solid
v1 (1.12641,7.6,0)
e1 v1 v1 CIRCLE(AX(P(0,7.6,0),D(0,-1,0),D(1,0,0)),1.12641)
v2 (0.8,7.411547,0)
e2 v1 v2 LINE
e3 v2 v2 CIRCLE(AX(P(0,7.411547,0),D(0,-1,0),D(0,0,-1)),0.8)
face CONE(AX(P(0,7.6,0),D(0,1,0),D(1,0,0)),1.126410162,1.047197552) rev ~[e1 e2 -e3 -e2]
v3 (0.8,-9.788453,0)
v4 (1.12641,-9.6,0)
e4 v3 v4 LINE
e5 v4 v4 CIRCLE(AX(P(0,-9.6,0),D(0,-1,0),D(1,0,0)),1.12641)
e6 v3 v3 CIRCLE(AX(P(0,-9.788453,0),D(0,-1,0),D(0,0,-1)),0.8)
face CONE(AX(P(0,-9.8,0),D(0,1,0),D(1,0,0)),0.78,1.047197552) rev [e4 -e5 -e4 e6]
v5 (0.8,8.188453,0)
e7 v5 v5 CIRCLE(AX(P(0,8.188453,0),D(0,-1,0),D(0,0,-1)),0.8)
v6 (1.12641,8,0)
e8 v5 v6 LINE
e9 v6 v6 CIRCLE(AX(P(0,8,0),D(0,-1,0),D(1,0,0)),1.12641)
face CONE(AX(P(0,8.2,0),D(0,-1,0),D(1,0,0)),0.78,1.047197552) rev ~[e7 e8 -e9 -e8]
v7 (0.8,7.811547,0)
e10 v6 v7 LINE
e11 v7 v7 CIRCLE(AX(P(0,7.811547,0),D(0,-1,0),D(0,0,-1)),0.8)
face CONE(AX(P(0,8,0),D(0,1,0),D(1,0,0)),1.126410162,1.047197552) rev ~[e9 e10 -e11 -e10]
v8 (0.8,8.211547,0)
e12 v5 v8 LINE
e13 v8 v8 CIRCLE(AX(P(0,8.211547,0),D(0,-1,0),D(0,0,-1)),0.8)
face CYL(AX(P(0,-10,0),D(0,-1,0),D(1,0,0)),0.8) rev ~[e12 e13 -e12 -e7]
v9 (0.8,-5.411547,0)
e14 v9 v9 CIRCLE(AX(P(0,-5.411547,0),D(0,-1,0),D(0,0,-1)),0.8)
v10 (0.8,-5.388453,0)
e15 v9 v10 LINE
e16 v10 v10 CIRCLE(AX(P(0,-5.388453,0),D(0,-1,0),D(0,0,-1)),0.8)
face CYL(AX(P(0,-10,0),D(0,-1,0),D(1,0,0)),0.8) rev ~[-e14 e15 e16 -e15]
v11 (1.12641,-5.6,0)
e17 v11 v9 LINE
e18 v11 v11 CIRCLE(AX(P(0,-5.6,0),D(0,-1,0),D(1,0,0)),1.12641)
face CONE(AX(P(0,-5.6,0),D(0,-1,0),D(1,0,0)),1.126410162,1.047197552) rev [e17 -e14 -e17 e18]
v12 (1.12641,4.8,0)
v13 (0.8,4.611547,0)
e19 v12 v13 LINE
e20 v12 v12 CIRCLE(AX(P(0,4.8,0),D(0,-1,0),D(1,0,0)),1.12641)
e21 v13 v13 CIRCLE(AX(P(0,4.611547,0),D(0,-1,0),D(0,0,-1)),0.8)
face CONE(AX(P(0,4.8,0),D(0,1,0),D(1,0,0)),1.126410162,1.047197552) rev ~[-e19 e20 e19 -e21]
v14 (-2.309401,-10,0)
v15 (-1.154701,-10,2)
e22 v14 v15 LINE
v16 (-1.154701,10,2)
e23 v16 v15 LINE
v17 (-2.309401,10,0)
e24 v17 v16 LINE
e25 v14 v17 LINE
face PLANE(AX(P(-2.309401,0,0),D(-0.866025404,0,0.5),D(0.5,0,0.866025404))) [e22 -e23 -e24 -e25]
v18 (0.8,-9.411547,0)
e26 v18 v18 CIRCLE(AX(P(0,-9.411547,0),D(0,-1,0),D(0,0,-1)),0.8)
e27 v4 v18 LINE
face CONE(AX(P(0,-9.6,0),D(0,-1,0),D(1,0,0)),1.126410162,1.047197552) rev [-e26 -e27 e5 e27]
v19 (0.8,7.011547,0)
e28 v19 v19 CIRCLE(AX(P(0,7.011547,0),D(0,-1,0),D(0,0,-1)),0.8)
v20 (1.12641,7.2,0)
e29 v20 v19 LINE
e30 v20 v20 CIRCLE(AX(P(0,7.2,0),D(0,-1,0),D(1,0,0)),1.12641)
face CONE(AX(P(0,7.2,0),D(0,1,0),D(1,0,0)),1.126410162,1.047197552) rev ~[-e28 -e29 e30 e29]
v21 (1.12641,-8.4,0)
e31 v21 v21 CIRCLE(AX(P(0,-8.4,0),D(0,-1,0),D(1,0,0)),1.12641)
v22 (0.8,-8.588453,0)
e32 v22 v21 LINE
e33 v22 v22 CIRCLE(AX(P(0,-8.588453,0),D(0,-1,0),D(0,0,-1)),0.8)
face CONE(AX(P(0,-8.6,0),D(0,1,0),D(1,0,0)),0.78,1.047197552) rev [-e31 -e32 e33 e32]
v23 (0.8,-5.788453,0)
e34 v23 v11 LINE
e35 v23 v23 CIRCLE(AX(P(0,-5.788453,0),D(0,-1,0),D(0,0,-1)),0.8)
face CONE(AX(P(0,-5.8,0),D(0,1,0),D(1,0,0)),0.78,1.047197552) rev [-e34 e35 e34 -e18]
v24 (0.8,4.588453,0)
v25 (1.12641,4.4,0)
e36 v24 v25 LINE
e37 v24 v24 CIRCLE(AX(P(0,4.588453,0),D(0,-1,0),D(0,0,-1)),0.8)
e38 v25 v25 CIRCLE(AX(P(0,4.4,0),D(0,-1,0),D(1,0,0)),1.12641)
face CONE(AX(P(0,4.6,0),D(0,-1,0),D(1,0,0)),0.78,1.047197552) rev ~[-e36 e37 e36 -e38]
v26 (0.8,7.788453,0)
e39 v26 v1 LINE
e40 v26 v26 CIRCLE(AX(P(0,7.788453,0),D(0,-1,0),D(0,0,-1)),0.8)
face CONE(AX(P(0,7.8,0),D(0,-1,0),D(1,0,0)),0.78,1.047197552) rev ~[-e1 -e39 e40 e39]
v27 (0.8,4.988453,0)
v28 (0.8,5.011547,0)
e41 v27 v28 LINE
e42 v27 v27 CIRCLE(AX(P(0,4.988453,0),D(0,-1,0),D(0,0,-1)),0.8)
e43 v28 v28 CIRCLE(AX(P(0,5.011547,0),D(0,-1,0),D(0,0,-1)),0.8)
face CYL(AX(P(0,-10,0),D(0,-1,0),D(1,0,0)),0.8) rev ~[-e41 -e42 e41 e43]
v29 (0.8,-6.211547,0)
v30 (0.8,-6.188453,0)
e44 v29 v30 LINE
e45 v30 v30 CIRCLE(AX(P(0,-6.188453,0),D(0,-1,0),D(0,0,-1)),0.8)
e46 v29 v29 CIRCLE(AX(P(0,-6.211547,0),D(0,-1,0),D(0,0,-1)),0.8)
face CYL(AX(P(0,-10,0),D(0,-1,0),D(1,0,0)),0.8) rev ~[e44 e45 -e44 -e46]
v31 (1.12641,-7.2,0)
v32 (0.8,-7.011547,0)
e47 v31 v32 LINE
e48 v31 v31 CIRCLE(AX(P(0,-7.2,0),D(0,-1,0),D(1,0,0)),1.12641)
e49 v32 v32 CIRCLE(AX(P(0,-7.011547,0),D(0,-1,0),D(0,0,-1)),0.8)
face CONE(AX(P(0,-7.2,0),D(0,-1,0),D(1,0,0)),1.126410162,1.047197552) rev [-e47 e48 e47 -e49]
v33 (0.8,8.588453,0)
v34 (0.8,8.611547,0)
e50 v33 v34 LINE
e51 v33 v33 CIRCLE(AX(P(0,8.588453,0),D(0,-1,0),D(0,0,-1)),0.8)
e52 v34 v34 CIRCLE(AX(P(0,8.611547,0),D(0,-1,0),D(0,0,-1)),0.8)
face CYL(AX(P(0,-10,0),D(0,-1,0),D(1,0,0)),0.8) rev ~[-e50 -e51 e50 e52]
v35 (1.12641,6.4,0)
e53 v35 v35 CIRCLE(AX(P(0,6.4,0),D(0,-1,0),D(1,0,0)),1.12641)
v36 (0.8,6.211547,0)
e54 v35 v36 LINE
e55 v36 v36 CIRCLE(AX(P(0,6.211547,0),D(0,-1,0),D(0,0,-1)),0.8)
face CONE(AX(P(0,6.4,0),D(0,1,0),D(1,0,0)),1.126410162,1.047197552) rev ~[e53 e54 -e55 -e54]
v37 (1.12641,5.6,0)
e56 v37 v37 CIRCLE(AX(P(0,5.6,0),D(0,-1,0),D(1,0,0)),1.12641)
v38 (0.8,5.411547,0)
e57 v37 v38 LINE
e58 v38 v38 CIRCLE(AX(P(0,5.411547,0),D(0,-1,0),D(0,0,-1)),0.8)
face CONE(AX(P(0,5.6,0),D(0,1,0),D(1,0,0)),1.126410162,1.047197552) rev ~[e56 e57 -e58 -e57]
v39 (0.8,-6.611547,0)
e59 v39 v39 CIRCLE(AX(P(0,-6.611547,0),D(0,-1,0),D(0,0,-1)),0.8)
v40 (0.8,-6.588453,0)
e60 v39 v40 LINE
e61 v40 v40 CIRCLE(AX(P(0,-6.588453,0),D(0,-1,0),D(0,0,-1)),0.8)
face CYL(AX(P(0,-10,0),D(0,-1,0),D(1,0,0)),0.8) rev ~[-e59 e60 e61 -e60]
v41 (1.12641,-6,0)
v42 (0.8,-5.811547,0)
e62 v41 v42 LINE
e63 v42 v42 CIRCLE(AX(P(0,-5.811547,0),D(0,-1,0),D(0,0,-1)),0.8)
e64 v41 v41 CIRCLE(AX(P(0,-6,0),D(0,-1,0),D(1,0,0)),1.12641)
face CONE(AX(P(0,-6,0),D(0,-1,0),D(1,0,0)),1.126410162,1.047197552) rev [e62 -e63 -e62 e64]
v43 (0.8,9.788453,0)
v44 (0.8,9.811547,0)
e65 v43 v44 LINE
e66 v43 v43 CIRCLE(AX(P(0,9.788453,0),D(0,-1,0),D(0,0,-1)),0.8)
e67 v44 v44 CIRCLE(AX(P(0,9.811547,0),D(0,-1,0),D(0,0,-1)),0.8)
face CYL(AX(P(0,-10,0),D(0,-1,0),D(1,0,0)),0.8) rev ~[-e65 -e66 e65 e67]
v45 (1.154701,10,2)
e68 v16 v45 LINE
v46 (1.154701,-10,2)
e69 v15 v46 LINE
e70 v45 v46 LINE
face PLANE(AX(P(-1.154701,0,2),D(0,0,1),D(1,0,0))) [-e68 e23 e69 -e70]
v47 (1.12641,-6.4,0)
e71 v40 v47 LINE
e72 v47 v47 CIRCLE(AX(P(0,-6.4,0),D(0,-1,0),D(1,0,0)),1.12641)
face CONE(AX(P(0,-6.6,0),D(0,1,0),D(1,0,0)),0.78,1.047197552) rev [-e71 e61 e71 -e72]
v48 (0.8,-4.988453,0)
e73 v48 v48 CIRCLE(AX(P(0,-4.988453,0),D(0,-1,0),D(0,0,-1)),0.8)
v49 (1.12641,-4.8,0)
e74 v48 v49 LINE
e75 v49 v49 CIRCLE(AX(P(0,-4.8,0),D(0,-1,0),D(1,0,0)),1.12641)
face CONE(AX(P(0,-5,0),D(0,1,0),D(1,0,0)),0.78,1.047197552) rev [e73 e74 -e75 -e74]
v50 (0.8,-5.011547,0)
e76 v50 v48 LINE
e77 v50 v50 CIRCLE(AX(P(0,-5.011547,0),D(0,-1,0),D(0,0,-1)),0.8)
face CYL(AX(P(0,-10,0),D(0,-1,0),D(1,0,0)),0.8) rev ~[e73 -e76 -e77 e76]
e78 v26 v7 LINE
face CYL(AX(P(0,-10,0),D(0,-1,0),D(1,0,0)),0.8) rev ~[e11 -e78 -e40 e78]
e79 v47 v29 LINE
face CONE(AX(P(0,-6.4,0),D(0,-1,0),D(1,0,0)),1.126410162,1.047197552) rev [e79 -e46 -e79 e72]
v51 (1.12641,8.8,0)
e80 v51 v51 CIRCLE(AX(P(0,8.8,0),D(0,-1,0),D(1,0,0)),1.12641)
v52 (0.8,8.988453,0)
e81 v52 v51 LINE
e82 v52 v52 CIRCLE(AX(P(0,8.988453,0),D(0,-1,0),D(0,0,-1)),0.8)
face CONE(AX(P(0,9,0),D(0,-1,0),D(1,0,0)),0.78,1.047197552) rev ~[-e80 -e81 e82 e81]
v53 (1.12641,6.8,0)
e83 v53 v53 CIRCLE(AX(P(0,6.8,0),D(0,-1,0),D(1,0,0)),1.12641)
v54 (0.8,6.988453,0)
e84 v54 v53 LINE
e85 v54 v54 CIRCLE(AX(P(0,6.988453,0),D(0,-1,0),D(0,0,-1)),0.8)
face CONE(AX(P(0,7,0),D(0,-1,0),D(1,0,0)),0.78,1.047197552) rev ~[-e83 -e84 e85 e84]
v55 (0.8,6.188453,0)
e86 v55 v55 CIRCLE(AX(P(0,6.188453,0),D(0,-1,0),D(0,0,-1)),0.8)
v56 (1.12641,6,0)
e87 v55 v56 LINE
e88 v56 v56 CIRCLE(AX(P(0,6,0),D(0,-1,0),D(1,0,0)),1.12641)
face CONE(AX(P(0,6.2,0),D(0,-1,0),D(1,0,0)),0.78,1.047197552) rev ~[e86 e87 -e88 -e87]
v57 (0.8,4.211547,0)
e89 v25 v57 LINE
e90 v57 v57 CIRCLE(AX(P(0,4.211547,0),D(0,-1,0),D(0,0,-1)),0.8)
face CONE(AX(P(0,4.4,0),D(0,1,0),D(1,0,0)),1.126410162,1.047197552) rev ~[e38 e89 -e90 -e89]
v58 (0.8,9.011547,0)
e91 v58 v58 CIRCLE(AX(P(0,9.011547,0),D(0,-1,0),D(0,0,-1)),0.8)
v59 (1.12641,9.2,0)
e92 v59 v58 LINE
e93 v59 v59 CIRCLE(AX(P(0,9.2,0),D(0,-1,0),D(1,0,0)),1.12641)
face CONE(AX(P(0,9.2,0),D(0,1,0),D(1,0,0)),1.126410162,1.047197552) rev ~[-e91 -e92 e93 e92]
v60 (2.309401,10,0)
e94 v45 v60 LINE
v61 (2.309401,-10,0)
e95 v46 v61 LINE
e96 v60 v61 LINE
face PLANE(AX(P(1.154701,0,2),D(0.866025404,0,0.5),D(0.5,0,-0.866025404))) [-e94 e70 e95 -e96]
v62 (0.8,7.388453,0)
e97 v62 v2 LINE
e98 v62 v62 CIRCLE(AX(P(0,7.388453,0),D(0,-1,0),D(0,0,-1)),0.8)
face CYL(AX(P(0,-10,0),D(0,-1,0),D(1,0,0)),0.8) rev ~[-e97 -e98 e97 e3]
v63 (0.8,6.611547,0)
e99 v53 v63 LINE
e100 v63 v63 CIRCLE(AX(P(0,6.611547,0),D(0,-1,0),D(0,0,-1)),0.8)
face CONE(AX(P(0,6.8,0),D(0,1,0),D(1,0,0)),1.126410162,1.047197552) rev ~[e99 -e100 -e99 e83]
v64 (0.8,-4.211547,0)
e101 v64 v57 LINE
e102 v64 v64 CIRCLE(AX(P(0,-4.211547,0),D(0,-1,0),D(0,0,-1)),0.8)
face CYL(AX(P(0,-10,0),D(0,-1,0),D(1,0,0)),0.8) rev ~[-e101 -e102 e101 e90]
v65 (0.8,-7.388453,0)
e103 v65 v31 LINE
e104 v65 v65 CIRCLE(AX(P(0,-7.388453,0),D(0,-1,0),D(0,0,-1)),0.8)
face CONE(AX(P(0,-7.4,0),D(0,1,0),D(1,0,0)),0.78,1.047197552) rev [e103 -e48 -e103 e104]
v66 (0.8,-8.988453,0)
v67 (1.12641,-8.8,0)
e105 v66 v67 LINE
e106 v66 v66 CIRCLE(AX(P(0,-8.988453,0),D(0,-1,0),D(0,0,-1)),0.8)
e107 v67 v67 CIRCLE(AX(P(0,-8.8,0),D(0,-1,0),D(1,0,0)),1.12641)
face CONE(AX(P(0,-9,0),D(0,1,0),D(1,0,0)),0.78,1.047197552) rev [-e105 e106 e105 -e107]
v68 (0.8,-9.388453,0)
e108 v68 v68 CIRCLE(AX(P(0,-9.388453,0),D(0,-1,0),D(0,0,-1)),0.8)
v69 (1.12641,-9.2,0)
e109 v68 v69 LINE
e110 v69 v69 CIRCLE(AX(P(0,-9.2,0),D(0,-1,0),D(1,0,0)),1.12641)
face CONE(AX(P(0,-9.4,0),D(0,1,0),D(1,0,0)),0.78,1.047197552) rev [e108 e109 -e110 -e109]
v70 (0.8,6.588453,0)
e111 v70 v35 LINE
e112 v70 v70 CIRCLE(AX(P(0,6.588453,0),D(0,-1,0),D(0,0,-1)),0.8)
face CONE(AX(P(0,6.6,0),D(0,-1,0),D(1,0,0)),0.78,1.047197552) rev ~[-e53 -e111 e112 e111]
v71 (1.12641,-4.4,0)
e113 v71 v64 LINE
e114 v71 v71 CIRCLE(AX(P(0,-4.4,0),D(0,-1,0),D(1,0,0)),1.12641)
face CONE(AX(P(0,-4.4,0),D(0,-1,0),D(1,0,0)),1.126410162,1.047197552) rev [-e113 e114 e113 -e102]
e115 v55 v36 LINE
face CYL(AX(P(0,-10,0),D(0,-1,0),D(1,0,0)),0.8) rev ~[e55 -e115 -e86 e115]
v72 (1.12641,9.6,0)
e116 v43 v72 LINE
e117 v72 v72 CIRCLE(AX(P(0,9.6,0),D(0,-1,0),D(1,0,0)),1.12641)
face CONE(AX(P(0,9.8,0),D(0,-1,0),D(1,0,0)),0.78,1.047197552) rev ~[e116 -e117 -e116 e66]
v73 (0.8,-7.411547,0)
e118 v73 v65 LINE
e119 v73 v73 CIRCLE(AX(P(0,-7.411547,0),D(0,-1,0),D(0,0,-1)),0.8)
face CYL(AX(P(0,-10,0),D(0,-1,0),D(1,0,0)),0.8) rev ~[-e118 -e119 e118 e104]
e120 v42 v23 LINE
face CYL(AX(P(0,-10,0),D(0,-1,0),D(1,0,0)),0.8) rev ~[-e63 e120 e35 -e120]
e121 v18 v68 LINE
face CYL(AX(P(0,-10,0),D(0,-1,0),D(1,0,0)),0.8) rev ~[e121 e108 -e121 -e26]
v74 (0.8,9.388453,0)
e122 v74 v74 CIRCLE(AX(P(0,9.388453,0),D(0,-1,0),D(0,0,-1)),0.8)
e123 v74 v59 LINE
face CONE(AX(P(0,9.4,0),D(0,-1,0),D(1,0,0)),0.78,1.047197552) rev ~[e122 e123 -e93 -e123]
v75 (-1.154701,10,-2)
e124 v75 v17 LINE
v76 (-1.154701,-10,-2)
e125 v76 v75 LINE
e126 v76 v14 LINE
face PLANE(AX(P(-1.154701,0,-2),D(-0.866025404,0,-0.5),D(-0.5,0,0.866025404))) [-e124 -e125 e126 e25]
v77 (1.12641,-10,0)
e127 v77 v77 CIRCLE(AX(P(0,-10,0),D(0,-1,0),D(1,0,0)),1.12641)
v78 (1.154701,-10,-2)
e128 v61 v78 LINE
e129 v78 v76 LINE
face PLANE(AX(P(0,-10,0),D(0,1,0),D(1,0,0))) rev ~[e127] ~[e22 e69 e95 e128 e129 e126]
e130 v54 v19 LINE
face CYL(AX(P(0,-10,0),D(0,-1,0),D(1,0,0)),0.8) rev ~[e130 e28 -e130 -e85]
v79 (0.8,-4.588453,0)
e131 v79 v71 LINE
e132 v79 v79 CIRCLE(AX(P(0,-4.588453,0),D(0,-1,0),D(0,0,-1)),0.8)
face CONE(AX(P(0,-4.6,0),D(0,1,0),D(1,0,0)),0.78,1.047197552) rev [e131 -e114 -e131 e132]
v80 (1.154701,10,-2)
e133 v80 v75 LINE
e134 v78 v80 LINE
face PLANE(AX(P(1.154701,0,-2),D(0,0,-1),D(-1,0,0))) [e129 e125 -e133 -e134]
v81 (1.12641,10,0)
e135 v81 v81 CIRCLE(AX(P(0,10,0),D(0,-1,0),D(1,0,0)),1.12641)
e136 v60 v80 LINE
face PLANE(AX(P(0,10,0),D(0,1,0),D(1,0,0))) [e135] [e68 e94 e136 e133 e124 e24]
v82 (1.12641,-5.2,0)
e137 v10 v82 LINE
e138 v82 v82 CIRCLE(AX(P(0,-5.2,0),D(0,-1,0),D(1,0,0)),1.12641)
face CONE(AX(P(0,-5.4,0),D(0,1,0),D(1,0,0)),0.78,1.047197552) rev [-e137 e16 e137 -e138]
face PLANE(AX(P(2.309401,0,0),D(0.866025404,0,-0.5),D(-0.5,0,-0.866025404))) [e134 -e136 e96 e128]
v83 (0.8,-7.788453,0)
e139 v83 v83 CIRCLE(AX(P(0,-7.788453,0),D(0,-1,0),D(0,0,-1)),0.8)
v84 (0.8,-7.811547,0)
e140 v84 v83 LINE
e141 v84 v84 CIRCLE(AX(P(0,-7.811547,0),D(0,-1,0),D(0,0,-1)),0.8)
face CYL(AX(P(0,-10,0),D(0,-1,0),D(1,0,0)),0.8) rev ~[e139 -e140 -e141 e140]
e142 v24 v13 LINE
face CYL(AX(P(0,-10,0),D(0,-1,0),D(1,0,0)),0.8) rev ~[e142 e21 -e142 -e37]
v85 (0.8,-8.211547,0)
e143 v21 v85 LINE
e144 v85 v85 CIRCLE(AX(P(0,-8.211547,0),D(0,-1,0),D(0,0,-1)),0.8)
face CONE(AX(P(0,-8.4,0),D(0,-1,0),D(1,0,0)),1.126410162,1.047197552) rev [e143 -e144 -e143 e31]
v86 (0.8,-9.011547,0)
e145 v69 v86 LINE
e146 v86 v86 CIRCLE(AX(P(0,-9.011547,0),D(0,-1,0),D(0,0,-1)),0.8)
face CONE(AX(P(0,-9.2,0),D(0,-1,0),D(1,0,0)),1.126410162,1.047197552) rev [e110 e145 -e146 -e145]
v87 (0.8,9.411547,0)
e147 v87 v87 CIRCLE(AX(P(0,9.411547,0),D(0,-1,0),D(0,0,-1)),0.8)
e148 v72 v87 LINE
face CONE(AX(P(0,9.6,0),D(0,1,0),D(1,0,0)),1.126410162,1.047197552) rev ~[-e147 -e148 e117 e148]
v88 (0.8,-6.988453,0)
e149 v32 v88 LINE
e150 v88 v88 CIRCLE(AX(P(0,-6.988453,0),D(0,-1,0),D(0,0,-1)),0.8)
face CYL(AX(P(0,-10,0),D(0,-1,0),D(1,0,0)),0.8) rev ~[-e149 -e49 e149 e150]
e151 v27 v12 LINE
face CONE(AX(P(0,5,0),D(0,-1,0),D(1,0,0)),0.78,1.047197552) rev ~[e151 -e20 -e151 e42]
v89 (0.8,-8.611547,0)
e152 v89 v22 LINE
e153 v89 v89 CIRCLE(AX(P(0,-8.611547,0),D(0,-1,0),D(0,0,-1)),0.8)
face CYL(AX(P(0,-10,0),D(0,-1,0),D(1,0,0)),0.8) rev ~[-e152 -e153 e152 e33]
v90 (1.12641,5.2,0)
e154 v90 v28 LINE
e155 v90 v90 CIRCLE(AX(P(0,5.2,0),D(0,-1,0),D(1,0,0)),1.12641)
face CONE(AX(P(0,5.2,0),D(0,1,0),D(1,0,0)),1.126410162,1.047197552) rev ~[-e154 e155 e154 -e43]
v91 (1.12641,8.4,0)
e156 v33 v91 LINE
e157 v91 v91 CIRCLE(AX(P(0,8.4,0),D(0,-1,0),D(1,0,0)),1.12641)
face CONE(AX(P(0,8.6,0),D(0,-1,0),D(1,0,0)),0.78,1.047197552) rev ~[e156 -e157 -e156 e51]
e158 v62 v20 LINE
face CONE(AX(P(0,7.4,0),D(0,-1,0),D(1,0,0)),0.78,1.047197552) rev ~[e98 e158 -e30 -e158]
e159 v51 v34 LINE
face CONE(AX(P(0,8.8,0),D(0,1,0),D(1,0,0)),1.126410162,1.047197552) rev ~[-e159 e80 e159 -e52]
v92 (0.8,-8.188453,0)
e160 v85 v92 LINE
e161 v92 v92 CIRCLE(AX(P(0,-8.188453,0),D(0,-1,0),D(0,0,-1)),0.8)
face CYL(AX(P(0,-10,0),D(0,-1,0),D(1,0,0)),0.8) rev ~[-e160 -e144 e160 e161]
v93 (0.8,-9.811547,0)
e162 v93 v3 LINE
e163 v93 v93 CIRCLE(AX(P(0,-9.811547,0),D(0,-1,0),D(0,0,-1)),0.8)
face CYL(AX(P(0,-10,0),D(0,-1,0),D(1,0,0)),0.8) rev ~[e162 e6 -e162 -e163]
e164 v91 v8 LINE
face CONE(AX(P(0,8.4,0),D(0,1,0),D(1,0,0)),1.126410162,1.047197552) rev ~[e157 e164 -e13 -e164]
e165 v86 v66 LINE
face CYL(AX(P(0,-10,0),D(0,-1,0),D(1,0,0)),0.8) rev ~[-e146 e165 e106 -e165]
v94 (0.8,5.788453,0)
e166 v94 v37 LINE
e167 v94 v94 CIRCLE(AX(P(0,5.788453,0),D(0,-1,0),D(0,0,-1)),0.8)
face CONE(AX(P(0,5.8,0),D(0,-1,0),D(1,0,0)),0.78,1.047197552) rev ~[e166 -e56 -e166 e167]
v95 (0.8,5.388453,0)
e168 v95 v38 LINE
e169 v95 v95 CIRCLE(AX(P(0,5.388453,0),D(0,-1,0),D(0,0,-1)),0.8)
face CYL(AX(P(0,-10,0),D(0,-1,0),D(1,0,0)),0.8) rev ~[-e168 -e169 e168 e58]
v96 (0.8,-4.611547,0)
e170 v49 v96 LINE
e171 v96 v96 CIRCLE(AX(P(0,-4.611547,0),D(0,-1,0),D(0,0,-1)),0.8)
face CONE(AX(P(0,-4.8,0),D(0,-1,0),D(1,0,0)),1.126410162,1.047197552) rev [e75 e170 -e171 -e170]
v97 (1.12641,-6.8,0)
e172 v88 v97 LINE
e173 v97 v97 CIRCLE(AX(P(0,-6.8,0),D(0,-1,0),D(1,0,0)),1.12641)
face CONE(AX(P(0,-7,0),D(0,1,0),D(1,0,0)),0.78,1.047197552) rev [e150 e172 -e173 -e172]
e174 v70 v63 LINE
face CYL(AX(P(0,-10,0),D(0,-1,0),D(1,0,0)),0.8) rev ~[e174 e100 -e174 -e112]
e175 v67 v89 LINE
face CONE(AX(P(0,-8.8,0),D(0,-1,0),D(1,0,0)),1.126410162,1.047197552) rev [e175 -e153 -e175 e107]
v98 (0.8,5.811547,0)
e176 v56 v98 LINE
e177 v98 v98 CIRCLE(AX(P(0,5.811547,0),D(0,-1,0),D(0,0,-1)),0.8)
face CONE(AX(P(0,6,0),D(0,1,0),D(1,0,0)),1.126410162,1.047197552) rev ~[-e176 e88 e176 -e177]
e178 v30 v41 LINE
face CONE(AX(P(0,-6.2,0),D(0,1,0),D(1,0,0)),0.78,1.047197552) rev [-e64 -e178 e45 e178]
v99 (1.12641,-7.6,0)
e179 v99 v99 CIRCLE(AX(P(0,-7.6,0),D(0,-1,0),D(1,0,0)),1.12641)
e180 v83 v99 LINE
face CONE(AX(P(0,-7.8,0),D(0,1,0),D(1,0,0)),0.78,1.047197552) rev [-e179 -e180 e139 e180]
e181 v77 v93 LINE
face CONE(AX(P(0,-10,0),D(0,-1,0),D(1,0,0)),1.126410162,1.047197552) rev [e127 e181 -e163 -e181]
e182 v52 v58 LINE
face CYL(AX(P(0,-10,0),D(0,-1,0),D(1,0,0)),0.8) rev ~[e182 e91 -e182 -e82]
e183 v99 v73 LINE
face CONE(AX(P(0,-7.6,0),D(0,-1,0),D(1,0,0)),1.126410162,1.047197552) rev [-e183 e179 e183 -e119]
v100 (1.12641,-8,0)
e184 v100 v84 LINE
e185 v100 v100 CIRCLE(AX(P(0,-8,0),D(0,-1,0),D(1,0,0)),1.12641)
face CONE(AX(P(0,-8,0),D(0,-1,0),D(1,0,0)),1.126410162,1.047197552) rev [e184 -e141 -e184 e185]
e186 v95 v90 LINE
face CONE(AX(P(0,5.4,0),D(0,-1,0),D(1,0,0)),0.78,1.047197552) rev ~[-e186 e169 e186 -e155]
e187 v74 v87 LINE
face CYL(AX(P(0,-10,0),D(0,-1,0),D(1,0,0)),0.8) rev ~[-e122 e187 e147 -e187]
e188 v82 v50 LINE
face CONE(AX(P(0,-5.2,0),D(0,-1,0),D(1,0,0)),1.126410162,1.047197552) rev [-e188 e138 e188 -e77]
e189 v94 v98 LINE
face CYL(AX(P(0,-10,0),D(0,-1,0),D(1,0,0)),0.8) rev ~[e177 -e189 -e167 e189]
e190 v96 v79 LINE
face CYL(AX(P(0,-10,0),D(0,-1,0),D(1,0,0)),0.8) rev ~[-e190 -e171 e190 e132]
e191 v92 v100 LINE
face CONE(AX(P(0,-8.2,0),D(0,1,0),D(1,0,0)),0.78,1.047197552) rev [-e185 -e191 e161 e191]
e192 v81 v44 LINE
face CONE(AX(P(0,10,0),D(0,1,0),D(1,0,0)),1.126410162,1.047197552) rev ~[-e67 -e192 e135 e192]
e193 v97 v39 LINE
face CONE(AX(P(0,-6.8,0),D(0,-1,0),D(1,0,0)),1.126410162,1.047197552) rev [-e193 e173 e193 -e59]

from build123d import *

# Parameters (mm, degrees)
BOSS_EXTRUDE1_DEPTH = 10
SKETCH3_R           = 0.8
CUT_EXTRUDE1_DEPTH  = 20
LPATTERN3_COUNT     = 15
LPATTERN3_PITCH     = 0.4


with BuildPart() as part:
    # Sketch1 → Boss-Extrude1 (new body, symmetric)
    with BuildSketch(Plane(origin=(0, 0, 0), x_dir=(1, 0, 0), z_dir=(0, 1, 0))):
        Polygon((2.309401077, 0), (1.154700538, 2), (-1.154700538, 2), (-2.309401077, 0), (-1.154700538, -2), (1.154700538, -2), align=None)
    extrude(amount=BOSS_EXTRUDE1_DEPTH, both=True)

    # Sketch3 → Cut-Extrude1 (cut)
    with BuildSketch(Plane.XZ.offset(10)):
        Circle(SKETCH3_R)
    extrude(amount=-CUT_EXTRUDE1_DEPTH, mode=Mode.SUBTRACT)

    # Sketch5 → Cut-Revolve3 (revolve, cut)
    with BuildSketch(Plane.XY):
        Polygon((0.38, -9.8), (0.38, -10.2), (0.78, -10.2), (1.126410162, -10), (0.78, -9.8), align=None)
    cut_revolve3 = revolve(axis=Axis((0, 0, 0), (0, -1, 0)), mode=Mode.SUBTRACT)

    # LPattern3: Cut-Revolve3 ×15
    with Locations(*[(0, i * LPATTERN3_PITCH, 0) for i in range(1, LPATTERN3_COUNT)]):
        add(cut_revolve3, mode=Mode.SUBTRACT)

    # Mirror2: Cut-Revolve3 across plane
    add(cut_revolve3.mirror(Plane.ZX), mode=Mode.SUBTRACT)

    # Mirror2 copy 1 sketch → Mirror2 copy 1 (revolve, cut)
    with BuildSketch(Plane(origin=(0, -0.4, 0), x_dir=(1, 0, 0), z_dir=(0, 0, 1))):
        Polygon((0.38, 9.8), (0.38, 10.2), (0.78, 10.2), (1.126410162, 10), (0.78, 9.8), align=None)
    revolve(axis=Axis((0, -0.4, 0), (0, -1, 0)), mode=Mode.SUBTRACT)

    # Mirror2 copy 2 sketch → Mirror2 copy 2 (revolve, cut)
    with BuildSketch(Plane(origin=(0, -0.8, 0), x_dir=(1, 0, 0), z_dir=(0, 0, 1))):
        Polygon((0.38, 9.8), (0.38, 10.2), (0.78, 10.2), (1.126410162, 10), (0.78, 9.8), align=None)
    revolve(axis=Axis((0, -0.8, 0), (0, -1, 0)), mode=Mode.SUBTRACT)

    # Mirror2 copy 3 sketch → Mirror2 copy 3 (revolve, cut)
    with BuildSketch(Plane(origin=(0, -1.2, 0), x_dir=(1, 0, 0), z_dir=(0, 0, 1))):
        Polygon((0.38, 9.8), (0.38, 10.2), (0.78, 10.2), (1.126410162, 10), (0.78, 9.8), align=None)
    revolve(axis=Axis((0, -1.2, 0), (0, -1, 0)), mode=Mode.SUBTRACT)

    # Mirror2 copy 4 sketch → Mirror2 copy 4 (revolve, cut)
    with BuildSketch(Plane(origin=(0, -1.6, 0), x_dir=(1, 0, 0), z_dir=(0, 0, 1))):
        Polygon((0.38, 9.8), (0.38, 10.2), (0.78, 10.2), (1.126410162, 10), (0.78, 9.8), align=None)
    revolve(axis=Axis((0, -1.6, 0), (0, -1, 0)), mode=Mode.SUBTRACT)

    # Mirror2 copy 5 sketch → Mirror2 copy 5 (revolve, cut)
    with BuildSketch(Plane(origin=(0, -2, 0), x_dir=(1, 0, 0), z_dir=(0, 0, 1))):
        Polygon((0.38, 9.8), (0.38, 10.2), (0.78, 10.2), (1.126410162, 10), (0.78, 9.8), align=None)
    revolve(axis=Axis((0, -2, 0), (0, -1, 0)), mode=Mode.SUBTRACT)

    # Mirror2 copy 6 sketch → Mirror2 copy 6 (revolve, cut)
    with BuildSketch(Plane(origin=(0, -2.4, 0), x_dir=(1, 0, 0), z_dir=(0, 0, 1))):
        Polygon((0.38, 9.8), (0.38, 10.2), (0.78, 10.2), (1.126410162, 10), (0.78, 9.8), align=None)
    revolve(axis=Axis((0, -2.4, 0), (0, -1, 0)), mode=Mode.SUBTRACT)

    # Mirror2 copy 7 sketch → Mirror2 copy 7 (revolve, cut)
    with BuildSketch(Plane(origin=(0, -2.8, 0), x_dir=(1, 0, 0), z_dir=(0, 0, 1))):
        Polygon((0.38, 9.8), (0.38, 10.2), (0.78, 10.2), (1.126410162, 10), (0.78, 9.8), align=None)
    revolve(axis=Axis((0, -2.8, 0), (0, -1, 0)), mode=Mode.SUBTRACT)

    # Mirror2 copy 8 sketch → Mirror2 copy 8 (revolve, cut)
    with BuildSketch(Plane(origin=(0, -3.2, 0), x_dir=(1, 0, 0), z_dir=(0, 0, 1))):
        Polygon((0.38, 9.8), (0.38, 10.2), (0.78, 10.2), (1.126410162, 10), (0.78, 9.8), align=None)
    revolve(axis=Axis((0, -3.2, 0), (0, -1, 0)), mode=Mode.SUBTRACT)

    # Mirror2 copy 9 sketch → Mirror2 copy 9 (revolve, cut)
    with BuildSketch(Plane(origin=(0, -3.6, 0), x_dir=(1, 0, 0), z_dir=(0, 0, 1))):
        Polygon((0.38, 9.8), (0.38, 10.2), (0.78, 10.2), (1.126410162, 10), (0.78, 9.8), align=None)
    revolve(axis=Axis((0, -3.6, 0), (0, -1, 0)), mode=Mode.SUBTRACT)

    # Mirror2 copy 10 sketch → Mirror2 copy 10 (revolve, cut)
    with BuildSketch(Plane(origin=(0, -4, 0), x_dir=(1, 0, 0), z_dir=(0, 0, 1))):
        Polygon((0.38, 9.8), (0.38, 10.2), (0.78, 10.2), (1.126410162, 10), (0.78, 9.8), align=None)
    revolve(axis=Axis((0, -4, 0), (0, -1, 0)), mode=Mode.SUBTRACT)

    # Mirror2 copy 11 sketch → Mirror2 copy 11 (revolve, cut)
    with BuildSketch(Plane(origin=(0, -4.4, 0), x_dir=(1, 0, 0), z_dir=(0, 0, 1))):
        Polygon((0.38, 9.8), (0.38, 10.2), (0.78, 10.2), (1.126410162, 10), (0.78, 9.8), align=None)
    revolve(axis=Axis((0, -4.4, 0), (0, -1, 0)), mode=Mode.SUBTRACT)

    # Mirror2 copy 12 sketch → Mirror2 copy 12 (revolve, cut)
    with BuildSketch(Plane(origin=(0, -4.8, 0), x_dir=(1, 0, 0), z_dir=(0, 0, 1))):
        Polygon((0.38, 9.8), (0.38, 10.2), (0.78, 10.2), (1.126410162, 10), (0.78, 9.8), align=None)
    revolve(axis=Axis((0, -4.8, 0), (0, -1, 0)), mode=Mode.SUBTRACT)

    # Mirror2 copy 13 sketch → Mirror2 copy 13 (revolve, cut)
    with BuildSketch(Plane(origin=(0, -5.2, 0), x_dir=(1, 0, 0), z_dir=(0, 0, 1))):
        Polygon((0.38, 9.8), (0.38, 10.2), (0.78, 10.2), (1.126410162, 10), (0.78, 9.8), align=None)
    revolve(axis=Axis((0, -5.2, 0), (0, -1, 0)), mode=Mode.SUBTRACT)

    # Mirror2 copy 14 sketch → Mirror2 copy 14 (revolve, cut)
    with BuildSketch(Plane(origin=(0, -5.6, 0), x_dir=(1, 0, 0), z_dir=(0, 0, 1))):
        Polygon((0.38, 9.8), (0.38, 10.2), (0.78, 10.2), (1.126410162, 10), (0.78, 9.8), align=None)
    revolve(axis=Axis((0, -5.6, 0), (0, -1, 0)), mode=Mode.SUBTRACT)


solid = part.part
